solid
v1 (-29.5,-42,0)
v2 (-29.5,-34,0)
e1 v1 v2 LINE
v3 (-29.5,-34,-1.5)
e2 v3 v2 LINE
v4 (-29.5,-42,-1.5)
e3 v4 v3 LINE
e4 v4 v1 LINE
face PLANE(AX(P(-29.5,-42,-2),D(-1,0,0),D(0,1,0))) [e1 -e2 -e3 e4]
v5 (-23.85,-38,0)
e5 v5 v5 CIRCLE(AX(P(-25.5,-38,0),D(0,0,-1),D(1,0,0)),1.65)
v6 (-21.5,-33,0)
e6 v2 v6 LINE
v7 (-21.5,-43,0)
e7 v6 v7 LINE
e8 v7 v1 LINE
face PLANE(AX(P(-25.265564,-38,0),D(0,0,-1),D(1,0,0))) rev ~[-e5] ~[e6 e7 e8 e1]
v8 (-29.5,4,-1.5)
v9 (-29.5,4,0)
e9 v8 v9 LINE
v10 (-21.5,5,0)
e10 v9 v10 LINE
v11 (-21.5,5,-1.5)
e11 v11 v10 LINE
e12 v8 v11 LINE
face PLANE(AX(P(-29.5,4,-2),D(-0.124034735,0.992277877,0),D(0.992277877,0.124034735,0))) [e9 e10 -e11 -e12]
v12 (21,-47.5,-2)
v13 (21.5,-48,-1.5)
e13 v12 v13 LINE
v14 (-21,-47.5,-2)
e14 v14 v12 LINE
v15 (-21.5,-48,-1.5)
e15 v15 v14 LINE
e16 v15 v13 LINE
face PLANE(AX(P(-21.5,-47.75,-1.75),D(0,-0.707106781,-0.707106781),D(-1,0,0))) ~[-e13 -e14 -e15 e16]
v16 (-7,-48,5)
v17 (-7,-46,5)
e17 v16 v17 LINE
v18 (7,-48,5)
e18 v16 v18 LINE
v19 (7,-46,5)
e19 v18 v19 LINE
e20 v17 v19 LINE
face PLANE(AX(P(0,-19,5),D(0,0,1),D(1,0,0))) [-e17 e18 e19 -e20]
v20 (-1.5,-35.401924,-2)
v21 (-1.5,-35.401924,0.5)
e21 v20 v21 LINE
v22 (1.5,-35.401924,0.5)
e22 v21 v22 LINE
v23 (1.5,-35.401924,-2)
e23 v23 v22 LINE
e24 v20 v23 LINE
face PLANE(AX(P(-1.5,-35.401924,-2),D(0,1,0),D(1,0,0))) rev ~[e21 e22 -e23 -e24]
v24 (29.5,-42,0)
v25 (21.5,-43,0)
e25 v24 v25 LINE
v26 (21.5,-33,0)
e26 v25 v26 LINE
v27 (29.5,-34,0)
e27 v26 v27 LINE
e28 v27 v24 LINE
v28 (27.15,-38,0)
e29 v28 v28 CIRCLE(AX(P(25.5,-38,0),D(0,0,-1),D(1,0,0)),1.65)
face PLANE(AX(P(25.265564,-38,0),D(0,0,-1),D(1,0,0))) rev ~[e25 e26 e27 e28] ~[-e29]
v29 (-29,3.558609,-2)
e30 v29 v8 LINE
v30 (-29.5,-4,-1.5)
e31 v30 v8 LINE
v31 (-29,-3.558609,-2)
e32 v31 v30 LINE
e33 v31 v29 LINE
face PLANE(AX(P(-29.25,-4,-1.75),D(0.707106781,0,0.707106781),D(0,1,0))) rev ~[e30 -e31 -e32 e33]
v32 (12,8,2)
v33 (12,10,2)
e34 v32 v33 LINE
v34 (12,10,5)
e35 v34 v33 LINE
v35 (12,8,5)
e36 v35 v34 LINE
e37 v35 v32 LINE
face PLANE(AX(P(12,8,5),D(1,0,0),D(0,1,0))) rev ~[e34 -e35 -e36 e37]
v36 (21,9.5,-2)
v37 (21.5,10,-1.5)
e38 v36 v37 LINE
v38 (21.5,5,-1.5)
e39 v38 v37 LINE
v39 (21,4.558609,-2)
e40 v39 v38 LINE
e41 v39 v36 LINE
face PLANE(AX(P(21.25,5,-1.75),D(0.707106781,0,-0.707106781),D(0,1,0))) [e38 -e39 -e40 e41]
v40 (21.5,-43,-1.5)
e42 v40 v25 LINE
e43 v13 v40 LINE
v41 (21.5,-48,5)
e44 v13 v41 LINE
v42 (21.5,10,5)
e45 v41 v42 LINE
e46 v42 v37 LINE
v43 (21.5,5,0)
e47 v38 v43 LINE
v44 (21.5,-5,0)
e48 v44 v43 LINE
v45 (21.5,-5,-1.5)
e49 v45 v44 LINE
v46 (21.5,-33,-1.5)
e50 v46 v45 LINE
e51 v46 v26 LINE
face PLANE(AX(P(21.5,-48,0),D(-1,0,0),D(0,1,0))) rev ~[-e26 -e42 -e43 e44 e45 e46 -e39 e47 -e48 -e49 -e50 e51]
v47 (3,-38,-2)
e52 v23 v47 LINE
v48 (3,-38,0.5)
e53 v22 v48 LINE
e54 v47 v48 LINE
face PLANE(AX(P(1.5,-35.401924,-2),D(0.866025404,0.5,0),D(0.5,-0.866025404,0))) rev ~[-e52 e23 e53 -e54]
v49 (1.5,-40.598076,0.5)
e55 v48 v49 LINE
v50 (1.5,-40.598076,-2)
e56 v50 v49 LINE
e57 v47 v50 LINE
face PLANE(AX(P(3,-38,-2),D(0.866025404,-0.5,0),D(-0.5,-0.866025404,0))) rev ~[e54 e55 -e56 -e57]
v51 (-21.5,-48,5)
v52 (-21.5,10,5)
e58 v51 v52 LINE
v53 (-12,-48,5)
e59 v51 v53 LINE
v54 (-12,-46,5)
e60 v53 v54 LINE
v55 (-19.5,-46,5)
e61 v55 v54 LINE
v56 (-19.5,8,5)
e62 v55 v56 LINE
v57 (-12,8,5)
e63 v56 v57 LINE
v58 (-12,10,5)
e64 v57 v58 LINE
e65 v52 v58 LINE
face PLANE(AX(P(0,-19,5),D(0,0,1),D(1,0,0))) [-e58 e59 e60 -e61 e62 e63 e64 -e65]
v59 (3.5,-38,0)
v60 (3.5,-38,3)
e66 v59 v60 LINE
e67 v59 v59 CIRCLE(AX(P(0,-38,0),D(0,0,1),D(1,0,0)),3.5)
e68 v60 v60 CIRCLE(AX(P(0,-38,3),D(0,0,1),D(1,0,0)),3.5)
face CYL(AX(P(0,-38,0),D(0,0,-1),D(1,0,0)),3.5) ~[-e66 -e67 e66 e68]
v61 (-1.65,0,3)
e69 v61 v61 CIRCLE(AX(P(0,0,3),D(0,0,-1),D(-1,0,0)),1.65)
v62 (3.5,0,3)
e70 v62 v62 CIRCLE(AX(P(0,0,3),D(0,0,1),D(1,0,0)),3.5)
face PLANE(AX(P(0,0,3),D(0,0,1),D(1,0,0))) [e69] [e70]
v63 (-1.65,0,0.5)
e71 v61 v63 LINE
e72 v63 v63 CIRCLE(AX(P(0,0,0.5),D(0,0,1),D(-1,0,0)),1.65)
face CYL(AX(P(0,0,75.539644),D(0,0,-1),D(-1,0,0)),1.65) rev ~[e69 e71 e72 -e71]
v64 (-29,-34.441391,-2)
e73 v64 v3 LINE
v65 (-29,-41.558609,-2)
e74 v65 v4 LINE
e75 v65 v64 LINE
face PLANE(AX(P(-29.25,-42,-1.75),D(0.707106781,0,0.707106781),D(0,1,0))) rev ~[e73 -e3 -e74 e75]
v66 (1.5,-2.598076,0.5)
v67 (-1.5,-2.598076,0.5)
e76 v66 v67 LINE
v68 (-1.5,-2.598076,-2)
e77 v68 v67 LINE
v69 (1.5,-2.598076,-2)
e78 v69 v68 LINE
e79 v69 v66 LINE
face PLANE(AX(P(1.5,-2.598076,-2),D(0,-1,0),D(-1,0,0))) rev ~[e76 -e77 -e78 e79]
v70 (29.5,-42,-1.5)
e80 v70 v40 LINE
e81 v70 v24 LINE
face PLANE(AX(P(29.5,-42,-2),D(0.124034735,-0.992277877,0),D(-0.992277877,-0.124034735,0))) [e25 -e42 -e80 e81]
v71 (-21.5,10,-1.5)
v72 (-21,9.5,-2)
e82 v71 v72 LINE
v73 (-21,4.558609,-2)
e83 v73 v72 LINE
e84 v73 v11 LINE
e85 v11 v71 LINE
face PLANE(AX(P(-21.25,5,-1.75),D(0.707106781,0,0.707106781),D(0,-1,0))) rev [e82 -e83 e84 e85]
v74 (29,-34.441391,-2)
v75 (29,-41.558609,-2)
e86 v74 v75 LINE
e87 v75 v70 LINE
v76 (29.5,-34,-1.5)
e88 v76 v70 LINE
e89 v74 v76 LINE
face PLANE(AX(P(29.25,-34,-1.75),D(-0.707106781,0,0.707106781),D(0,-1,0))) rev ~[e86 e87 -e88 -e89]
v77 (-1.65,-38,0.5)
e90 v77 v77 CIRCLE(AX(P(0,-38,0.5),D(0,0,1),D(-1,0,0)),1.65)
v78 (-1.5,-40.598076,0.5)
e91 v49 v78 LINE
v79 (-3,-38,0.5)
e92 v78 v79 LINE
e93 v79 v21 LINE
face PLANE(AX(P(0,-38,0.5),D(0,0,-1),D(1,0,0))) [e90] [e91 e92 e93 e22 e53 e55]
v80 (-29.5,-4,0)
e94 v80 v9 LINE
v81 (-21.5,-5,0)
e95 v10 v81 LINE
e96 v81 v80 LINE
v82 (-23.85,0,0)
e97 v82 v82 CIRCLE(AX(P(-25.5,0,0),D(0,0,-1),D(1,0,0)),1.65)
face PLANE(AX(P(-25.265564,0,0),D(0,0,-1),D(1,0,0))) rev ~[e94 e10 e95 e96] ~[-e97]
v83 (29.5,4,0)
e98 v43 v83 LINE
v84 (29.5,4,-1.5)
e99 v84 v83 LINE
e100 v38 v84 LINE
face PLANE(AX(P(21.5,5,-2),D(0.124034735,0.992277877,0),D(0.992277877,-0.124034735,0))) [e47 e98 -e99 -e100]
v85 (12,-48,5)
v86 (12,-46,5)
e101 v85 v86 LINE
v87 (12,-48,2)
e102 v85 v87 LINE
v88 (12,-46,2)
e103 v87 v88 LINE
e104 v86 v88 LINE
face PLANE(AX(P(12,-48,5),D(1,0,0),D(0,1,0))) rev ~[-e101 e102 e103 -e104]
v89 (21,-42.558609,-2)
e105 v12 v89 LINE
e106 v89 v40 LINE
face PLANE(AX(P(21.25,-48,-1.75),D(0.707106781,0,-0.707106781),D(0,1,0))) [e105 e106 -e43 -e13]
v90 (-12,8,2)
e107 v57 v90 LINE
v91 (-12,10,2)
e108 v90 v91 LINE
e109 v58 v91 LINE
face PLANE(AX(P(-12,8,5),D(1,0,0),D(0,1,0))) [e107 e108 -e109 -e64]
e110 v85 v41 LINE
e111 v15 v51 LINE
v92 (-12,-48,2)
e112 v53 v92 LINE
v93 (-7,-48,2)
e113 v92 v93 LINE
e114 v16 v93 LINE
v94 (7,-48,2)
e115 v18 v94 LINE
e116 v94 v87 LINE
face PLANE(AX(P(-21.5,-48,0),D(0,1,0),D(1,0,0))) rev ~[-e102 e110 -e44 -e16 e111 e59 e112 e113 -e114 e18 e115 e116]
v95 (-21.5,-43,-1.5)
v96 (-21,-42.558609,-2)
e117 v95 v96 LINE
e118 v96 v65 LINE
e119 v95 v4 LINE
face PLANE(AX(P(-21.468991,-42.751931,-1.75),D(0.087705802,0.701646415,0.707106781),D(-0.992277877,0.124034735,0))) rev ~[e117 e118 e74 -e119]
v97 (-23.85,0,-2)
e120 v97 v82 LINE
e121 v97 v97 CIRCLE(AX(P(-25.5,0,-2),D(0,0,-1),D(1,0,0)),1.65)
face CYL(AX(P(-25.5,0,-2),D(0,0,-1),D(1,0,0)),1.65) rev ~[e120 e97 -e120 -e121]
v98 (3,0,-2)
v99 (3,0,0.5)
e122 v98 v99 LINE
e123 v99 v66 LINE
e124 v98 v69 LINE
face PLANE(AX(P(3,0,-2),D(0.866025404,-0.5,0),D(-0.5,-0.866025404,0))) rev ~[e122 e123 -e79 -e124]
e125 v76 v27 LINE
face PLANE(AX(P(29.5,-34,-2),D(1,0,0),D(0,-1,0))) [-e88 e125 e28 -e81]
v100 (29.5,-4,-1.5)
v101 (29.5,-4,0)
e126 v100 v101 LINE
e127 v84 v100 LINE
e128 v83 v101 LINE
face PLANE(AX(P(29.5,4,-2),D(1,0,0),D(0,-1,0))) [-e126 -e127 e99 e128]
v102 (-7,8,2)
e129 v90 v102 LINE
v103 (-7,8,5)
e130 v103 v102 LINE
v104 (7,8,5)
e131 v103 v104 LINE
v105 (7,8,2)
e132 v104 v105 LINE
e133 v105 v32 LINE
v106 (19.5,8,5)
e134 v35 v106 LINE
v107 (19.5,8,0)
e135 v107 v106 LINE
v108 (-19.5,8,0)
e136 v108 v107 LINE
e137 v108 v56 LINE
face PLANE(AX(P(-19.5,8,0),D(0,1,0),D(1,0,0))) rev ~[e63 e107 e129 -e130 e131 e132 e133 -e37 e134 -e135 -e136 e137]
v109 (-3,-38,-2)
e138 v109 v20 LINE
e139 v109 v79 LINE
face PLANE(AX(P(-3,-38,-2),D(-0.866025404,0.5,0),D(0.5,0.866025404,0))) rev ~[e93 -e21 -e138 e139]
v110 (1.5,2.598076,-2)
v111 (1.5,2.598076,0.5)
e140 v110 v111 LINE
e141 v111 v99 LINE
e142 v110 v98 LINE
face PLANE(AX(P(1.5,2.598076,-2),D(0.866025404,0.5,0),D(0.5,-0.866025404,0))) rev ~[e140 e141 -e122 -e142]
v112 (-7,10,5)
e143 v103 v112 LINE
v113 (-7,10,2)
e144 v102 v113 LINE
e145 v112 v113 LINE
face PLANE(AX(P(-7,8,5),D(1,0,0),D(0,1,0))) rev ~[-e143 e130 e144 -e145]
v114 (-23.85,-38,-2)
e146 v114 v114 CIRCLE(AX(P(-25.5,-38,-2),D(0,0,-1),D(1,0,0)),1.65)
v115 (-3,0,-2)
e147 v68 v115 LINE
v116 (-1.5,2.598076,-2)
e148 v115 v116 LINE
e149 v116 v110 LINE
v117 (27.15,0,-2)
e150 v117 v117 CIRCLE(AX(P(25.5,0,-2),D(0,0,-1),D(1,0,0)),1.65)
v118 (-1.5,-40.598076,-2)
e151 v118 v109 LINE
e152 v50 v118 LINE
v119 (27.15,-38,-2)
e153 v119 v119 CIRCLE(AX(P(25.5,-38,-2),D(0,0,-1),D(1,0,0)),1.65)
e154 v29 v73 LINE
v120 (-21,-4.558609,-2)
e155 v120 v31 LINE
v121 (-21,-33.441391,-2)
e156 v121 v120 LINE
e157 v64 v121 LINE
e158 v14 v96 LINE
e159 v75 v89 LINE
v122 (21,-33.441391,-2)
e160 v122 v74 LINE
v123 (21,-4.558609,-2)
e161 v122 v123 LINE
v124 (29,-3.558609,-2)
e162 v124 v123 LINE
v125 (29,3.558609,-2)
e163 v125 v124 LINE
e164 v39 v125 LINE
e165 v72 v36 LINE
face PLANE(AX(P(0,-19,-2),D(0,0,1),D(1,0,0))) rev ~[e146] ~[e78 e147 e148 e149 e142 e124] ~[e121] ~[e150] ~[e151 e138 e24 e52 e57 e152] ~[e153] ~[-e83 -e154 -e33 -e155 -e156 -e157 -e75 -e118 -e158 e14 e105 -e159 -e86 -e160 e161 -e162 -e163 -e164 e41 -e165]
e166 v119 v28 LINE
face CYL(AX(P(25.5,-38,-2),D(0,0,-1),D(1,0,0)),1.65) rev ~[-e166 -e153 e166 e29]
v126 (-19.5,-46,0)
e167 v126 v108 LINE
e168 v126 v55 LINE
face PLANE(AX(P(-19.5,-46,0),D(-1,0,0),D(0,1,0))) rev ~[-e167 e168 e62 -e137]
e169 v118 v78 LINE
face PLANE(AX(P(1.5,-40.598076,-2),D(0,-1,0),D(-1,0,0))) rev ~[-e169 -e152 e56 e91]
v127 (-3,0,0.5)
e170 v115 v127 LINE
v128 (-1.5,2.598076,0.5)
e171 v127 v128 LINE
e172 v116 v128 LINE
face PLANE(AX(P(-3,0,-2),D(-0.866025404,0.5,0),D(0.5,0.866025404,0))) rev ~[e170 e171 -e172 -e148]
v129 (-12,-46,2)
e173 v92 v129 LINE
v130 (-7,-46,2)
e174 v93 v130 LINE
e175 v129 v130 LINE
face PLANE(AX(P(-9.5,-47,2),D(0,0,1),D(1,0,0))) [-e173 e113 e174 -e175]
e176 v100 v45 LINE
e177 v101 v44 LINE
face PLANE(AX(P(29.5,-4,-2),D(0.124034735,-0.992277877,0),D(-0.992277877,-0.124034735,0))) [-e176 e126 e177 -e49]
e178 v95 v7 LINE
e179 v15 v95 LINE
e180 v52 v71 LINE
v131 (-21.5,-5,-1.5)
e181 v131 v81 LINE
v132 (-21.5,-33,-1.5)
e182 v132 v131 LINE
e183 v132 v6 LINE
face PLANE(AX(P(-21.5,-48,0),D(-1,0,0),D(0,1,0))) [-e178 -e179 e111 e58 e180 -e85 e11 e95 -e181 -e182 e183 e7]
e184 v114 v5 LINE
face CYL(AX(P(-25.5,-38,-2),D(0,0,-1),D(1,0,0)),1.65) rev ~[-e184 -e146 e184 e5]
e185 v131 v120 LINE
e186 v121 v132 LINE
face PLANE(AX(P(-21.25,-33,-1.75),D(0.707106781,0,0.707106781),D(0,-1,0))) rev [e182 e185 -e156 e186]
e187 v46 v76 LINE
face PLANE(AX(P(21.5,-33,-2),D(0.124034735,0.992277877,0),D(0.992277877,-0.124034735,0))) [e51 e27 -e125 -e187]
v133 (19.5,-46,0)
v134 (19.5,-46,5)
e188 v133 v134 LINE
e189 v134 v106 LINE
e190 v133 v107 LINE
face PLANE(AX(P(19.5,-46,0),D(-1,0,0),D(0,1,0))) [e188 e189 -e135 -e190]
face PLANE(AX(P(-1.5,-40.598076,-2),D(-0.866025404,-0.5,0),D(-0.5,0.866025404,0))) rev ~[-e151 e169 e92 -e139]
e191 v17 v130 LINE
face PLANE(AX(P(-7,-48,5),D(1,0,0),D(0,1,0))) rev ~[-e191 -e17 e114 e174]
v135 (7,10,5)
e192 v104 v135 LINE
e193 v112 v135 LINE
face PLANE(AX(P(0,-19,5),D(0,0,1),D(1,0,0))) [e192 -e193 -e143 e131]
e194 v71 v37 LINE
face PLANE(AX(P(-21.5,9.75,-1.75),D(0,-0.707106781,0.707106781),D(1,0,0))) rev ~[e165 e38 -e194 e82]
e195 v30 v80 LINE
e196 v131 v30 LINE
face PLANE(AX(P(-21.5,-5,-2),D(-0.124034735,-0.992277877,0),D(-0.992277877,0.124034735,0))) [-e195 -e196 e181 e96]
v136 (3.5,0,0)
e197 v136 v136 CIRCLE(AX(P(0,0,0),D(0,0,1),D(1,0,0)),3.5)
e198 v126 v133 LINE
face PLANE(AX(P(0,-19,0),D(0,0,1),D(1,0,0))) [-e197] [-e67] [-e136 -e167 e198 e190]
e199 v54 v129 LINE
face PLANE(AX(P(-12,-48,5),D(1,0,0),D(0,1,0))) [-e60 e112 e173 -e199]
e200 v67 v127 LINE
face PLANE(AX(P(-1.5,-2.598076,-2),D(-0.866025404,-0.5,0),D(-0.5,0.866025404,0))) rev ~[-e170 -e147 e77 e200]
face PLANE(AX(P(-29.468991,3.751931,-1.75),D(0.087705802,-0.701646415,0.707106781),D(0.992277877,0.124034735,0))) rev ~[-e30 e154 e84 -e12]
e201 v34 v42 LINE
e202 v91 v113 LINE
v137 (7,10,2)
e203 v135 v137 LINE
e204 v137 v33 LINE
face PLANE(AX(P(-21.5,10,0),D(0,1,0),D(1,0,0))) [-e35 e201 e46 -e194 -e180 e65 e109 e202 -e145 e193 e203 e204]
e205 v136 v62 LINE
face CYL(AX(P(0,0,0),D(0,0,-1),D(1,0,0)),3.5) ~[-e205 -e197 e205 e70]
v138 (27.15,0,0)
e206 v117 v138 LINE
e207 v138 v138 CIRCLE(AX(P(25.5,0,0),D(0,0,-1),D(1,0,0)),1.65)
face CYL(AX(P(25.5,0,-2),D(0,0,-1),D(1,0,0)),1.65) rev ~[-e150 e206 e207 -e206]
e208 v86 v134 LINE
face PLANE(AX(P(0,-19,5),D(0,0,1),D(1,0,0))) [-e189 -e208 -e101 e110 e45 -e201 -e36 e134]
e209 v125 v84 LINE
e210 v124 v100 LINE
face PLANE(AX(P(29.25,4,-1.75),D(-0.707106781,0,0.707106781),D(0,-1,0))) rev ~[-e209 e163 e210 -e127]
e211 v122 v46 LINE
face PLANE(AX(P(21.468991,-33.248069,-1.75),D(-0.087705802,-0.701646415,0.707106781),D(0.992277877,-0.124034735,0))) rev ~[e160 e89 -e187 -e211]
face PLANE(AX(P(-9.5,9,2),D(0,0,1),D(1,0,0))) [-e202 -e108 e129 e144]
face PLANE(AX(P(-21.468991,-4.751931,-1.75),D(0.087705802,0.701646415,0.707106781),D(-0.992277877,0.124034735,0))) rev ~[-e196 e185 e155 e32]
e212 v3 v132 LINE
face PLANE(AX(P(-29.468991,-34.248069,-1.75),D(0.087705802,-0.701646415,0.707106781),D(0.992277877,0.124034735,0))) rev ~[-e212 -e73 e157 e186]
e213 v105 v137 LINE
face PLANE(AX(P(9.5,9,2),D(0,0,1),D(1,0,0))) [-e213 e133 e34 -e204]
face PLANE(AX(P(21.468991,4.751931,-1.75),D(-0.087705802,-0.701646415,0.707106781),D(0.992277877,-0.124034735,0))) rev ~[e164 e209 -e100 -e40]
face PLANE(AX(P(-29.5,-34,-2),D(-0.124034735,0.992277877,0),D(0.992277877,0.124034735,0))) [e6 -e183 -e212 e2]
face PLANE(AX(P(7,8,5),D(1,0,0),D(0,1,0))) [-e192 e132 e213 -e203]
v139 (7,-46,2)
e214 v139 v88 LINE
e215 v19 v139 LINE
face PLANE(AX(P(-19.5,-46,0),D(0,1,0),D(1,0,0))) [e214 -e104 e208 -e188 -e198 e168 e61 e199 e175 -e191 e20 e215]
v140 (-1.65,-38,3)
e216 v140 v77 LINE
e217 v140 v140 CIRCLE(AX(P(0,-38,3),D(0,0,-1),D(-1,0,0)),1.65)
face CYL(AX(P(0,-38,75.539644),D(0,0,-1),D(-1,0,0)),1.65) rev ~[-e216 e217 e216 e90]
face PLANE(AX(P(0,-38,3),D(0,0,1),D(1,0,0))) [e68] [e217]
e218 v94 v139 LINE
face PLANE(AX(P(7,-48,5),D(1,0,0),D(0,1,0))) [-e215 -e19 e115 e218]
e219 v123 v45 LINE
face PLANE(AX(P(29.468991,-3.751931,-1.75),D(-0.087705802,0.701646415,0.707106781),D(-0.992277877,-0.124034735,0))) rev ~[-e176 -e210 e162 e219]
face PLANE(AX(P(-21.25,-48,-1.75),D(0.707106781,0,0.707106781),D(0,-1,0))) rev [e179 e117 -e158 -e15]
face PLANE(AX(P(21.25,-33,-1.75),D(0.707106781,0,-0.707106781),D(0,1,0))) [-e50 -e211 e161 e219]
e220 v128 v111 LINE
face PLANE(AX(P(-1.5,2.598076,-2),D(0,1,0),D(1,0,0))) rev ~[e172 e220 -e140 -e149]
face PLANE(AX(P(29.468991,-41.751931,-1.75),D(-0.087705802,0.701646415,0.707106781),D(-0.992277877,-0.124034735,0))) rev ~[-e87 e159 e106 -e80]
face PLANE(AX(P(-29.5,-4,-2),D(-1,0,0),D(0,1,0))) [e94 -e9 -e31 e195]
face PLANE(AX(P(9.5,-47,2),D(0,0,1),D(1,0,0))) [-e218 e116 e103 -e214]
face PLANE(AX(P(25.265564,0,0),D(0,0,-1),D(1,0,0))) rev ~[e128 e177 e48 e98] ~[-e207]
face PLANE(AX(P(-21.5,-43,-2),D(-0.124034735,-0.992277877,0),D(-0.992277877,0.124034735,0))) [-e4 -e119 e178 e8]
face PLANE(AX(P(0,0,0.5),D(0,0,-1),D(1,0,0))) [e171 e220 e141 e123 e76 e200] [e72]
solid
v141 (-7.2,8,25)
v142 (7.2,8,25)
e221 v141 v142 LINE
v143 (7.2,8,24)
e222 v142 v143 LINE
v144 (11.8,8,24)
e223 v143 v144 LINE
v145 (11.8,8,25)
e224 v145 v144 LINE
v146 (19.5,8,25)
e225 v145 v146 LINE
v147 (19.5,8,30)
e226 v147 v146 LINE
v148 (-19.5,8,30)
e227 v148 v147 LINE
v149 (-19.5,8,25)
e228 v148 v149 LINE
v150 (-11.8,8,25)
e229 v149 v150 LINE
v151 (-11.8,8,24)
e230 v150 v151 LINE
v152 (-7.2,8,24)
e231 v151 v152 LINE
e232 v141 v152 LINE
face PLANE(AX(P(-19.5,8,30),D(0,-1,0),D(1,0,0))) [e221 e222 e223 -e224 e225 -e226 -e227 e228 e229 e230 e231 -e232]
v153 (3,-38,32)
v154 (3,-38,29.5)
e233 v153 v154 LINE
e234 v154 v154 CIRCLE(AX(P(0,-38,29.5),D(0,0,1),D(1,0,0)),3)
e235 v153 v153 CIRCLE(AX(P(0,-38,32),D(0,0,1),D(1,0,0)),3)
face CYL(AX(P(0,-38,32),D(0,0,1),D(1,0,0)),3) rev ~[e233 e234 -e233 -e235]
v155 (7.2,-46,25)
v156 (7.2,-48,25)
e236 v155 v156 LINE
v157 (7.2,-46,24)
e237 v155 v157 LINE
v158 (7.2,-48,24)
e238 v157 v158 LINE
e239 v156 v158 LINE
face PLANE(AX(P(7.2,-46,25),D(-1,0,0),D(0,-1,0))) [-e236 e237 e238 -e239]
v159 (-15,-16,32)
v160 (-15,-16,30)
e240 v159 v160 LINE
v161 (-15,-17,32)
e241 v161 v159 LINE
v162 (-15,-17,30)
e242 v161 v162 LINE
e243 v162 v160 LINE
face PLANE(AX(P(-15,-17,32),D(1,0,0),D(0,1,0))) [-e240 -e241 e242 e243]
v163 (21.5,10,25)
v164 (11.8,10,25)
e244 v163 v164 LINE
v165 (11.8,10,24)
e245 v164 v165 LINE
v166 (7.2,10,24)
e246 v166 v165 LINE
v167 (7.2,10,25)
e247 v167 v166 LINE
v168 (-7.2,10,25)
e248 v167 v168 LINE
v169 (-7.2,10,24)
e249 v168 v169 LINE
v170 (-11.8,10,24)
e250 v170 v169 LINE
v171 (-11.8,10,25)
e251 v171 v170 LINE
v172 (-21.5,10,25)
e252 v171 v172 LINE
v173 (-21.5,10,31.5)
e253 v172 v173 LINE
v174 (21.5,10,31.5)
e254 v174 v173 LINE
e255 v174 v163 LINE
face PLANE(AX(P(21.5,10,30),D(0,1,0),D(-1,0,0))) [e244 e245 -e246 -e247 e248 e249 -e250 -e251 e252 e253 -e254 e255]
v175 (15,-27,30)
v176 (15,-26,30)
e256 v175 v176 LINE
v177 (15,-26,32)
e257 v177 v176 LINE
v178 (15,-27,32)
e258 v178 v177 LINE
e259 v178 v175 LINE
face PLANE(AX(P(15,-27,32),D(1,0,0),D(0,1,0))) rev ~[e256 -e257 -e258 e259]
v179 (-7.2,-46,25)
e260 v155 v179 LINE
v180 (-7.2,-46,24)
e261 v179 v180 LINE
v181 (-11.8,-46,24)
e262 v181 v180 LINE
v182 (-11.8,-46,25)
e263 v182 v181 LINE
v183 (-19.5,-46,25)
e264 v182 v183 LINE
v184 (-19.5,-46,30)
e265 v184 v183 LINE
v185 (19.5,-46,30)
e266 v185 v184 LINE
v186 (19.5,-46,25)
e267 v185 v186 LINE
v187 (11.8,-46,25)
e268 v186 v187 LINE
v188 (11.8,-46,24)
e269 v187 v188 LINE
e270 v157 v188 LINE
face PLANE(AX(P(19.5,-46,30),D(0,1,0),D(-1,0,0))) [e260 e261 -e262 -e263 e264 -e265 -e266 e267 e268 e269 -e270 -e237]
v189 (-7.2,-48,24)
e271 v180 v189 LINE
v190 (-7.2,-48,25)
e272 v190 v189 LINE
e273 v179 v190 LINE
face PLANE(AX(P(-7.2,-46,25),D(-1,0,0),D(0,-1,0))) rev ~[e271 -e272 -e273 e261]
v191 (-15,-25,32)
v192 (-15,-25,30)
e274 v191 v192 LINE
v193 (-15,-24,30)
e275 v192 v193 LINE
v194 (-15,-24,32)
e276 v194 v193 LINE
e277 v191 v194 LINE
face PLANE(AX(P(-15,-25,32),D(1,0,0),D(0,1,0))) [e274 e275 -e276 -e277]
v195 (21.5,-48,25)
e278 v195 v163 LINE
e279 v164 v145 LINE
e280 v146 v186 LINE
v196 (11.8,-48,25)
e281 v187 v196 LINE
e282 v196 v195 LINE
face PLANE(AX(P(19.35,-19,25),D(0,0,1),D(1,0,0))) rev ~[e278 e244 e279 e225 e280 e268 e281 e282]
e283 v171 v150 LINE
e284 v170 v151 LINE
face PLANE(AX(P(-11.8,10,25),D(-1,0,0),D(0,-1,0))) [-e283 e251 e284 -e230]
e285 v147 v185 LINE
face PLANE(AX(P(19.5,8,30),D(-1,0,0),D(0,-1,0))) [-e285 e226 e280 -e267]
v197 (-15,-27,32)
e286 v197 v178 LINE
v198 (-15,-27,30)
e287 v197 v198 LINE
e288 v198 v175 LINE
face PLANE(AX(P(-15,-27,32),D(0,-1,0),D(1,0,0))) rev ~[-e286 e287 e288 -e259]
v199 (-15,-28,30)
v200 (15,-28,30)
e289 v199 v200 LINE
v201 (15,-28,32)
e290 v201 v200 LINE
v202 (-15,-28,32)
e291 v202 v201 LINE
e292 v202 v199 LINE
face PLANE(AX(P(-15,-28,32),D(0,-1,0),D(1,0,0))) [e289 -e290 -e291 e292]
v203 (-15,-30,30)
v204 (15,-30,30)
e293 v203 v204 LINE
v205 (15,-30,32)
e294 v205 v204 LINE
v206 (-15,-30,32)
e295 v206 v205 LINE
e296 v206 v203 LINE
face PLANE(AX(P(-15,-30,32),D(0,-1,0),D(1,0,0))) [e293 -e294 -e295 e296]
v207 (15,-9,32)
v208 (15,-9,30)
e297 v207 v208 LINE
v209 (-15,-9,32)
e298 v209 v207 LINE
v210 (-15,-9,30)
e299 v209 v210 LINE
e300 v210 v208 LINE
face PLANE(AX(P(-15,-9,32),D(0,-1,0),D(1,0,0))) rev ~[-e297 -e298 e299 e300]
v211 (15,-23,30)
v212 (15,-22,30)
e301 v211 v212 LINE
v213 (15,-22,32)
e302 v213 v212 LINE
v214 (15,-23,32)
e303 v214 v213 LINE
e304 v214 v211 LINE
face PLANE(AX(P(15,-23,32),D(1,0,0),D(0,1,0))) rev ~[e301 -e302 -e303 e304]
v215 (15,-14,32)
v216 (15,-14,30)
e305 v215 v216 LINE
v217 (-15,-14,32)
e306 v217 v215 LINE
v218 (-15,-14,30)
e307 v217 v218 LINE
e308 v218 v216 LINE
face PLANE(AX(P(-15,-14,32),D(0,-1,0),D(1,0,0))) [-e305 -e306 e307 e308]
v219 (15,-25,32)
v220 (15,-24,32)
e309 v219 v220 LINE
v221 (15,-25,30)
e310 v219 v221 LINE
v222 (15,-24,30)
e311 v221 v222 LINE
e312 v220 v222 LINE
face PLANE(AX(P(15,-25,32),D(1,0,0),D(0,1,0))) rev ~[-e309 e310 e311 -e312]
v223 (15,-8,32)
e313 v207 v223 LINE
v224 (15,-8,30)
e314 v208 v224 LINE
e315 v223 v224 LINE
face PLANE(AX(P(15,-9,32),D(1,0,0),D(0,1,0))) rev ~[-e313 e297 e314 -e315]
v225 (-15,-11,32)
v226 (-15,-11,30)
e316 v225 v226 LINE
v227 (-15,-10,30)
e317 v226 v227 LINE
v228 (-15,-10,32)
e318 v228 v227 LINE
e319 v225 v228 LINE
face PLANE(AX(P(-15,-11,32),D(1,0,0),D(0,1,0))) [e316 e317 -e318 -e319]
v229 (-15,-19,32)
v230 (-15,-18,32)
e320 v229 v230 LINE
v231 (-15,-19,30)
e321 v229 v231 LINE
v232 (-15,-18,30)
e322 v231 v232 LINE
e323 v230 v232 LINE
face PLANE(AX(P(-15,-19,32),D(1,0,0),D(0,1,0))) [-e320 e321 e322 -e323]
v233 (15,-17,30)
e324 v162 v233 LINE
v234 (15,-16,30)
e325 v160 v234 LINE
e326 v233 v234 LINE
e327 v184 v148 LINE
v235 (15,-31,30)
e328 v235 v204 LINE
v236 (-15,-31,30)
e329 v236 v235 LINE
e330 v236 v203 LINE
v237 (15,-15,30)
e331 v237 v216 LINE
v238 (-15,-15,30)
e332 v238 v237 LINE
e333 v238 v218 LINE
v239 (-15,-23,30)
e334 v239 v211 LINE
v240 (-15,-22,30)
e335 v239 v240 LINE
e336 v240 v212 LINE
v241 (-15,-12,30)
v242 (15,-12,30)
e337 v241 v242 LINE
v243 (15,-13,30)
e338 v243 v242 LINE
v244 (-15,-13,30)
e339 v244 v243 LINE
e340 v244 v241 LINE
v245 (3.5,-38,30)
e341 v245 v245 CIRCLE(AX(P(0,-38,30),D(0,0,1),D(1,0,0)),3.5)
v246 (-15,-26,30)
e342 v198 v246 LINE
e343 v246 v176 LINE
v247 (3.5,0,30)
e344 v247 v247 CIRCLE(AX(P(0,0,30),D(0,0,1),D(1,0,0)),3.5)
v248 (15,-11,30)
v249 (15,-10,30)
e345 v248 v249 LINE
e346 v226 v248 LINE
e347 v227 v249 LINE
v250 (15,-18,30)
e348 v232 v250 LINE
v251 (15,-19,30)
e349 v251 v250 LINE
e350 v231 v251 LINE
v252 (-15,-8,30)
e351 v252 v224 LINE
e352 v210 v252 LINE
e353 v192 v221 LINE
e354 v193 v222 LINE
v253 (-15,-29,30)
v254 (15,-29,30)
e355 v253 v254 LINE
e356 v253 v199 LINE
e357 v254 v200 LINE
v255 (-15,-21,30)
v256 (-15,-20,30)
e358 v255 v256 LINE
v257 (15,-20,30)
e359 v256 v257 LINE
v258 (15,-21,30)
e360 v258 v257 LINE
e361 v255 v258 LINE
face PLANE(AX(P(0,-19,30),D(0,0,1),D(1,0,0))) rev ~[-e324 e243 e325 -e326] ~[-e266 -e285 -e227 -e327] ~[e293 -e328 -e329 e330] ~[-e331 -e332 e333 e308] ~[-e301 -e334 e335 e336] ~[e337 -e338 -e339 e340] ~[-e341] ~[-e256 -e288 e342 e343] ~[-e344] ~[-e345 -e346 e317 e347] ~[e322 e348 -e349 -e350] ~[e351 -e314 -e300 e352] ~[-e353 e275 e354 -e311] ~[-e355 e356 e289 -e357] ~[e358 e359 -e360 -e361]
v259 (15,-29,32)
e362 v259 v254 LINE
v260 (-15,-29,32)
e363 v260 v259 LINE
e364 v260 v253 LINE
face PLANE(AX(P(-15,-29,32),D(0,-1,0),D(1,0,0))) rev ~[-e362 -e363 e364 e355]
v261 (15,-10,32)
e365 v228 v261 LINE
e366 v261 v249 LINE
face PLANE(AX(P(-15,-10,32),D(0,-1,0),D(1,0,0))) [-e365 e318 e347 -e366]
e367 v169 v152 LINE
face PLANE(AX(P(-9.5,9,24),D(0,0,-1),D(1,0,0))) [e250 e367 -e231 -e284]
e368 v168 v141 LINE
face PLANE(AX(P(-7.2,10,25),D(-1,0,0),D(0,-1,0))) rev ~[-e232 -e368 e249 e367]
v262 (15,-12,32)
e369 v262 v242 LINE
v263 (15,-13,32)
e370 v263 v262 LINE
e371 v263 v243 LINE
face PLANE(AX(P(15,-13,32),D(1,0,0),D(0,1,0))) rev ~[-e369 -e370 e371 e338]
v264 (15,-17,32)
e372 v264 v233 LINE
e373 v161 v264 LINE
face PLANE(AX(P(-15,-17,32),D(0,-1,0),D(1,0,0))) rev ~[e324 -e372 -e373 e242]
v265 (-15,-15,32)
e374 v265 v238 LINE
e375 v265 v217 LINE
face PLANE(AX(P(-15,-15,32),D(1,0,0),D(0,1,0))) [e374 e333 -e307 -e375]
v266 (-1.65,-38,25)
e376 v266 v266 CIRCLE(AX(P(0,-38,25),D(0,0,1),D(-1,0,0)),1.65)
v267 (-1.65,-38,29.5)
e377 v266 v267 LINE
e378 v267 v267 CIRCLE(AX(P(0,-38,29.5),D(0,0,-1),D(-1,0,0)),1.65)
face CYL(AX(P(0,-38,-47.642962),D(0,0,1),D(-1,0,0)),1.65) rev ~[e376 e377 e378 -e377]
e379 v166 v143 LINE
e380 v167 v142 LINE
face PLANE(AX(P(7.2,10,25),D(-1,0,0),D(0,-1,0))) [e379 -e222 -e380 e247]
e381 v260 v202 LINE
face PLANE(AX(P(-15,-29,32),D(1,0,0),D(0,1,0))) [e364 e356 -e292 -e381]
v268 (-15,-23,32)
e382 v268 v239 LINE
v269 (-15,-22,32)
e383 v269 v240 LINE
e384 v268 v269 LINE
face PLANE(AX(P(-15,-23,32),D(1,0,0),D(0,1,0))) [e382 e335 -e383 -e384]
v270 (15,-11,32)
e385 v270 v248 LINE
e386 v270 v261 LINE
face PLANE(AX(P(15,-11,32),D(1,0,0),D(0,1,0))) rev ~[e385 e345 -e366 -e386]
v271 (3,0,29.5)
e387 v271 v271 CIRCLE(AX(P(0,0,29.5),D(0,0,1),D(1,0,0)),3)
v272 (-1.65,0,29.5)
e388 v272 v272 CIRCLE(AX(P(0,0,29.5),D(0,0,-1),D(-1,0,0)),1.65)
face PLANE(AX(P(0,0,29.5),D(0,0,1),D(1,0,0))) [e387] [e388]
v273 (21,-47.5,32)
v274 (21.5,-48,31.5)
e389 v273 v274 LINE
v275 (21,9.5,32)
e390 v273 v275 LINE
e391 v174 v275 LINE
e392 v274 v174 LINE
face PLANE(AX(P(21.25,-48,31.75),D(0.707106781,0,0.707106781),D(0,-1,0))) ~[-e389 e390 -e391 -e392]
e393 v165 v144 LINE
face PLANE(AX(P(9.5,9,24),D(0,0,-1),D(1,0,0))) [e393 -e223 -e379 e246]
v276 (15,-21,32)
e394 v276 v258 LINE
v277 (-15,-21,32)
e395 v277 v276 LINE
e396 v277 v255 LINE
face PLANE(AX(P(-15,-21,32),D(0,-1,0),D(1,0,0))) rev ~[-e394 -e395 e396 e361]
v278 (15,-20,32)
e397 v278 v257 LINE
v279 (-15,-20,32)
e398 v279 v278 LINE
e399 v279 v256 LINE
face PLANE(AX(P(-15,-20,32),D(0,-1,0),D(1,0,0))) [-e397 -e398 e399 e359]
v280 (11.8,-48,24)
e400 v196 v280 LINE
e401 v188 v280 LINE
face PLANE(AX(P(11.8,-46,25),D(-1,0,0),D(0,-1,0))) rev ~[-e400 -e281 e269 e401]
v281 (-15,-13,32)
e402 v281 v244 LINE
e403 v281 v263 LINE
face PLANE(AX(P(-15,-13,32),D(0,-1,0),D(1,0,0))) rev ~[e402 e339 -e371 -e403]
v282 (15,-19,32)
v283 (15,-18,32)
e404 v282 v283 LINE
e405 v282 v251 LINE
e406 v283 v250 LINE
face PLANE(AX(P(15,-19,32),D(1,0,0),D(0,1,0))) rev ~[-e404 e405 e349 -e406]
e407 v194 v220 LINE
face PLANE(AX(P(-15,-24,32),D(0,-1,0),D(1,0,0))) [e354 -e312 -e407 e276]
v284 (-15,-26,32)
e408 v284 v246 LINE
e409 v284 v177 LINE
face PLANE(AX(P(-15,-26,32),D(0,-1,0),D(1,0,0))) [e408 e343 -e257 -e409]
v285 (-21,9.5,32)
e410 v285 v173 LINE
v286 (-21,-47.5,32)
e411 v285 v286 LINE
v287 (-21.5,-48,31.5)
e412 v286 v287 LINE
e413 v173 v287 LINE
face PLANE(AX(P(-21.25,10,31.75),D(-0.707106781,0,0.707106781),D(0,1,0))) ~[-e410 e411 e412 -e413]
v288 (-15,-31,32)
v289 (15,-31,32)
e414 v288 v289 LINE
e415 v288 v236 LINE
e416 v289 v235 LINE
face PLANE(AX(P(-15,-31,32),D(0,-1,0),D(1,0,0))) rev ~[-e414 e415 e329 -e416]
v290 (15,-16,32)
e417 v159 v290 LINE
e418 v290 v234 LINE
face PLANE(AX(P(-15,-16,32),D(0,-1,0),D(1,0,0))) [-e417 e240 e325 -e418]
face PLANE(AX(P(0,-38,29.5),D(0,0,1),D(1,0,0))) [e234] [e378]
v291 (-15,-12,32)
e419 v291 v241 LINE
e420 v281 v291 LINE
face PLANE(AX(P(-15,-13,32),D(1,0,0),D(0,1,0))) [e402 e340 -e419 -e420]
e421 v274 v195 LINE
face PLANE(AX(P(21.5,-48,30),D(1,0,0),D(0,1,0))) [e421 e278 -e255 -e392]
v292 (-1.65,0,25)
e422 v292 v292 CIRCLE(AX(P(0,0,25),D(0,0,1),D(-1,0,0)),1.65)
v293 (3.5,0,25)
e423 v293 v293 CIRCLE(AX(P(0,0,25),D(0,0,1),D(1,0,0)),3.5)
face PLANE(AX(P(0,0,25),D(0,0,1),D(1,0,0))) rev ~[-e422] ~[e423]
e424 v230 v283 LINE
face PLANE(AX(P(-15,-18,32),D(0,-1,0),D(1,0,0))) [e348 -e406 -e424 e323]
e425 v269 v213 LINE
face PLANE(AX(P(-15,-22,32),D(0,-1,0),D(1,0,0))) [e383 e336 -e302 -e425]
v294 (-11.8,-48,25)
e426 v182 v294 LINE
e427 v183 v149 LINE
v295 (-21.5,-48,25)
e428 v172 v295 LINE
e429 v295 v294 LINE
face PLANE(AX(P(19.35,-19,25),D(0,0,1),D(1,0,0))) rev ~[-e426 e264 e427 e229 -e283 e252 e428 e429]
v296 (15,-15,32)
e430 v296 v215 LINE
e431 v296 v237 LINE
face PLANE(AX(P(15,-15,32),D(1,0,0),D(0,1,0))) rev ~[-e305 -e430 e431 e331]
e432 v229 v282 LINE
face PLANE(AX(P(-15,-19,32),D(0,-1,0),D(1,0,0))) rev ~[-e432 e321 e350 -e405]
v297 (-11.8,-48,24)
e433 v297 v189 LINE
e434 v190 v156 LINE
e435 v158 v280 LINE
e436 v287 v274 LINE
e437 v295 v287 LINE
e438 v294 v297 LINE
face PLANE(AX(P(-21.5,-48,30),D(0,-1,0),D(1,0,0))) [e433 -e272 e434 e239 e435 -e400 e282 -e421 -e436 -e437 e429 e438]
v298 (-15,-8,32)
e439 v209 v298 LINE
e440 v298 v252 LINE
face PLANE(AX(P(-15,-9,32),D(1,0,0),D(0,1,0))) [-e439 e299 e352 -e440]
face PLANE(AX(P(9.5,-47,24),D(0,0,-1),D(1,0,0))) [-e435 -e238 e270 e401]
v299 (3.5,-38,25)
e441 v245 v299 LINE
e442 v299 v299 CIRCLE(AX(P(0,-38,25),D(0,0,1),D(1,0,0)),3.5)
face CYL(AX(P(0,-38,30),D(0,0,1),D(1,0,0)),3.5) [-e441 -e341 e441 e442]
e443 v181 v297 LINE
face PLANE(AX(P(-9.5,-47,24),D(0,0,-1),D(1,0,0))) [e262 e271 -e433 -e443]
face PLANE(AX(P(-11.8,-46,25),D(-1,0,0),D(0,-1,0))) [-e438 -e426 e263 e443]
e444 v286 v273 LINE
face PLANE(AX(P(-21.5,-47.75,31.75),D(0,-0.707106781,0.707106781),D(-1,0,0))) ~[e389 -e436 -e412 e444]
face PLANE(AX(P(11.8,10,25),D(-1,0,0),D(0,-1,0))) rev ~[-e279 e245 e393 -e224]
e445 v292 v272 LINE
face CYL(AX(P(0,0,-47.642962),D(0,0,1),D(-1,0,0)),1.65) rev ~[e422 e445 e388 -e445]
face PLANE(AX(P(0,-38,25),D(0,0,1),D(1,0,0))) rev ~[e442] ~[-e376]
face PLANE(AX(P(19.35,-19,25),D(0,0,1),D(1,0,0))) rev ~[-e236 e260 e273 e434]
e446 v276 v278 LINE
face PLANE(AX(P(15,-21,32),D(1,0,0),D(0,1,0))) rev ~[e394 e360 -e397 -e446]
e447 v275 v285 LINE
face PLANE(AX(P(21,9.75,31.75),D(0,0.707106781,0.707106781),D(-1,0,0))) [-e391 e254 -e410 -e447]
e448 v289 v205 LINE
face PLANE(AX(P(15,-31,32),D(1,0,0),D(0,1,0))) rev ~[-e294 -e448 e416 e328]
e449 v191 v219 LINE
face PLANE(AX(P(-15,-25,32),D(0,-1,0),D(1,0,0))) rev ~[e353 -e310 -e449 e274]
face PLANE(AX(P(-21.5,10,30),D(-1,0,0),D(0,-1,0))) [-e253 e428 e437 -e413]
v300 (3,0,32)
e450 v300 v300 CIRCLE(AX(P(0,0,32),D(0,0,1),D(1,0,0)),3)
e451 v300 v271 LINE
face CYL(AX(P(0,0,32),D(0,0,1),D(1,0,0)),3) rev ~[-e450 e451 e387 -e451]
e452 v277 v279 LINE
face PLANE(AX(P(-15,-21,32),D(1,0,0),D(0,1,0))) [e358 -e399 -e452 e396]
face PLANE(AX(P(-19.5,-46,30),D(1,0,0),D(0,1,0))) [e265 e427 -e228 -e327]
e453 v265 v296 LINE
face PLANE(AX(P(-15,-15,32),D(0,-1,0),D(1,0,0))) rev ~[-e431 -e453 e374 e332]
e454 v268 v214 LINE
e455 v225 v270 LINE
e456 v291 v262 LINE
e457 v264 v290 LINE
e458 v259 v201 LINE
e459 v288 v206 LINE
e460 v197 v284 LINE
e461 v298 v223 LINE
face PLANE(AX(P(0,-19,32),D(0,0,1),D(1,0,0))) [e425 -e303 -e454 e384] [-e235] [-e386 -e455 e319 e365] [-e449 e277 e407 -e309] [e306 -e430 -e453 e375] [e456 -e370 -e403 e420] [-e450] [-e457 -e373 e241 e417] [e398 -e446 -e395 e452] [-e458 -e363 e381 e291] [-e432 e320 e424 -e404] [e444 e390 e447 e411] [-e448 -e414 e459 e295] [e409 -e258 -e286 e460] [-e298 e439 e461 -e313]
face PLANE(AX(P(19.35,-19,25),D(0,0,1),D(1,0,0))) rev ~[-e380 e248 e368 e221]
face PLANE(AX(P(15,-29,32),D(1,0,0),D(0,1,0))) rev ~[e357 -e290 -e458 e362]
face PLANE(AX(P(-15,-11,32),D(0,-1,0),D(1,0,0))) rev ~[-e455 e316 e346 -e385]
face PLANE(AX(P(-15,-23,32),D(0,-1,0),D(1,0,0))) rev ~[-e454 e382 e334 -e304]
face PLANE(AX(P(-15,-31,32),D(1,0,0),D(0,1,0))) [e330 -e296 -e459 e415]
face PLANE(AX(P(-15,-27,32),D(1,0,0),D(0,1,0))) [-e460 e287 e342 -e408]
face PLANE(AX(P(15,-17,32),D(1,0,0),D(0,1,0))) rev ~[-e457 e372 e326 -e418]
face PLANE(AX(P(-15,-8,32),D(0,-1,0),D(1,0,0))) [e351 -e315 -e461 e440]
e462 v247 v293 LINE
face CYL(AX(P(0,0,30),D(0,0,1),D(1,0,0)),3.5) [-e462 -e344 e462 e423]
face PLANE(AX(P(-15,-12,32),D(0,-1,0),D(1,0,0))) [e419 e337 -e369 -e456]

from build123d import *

# Parameters (mm, degrees)
F0_W       = 43
F0_H       = 58
F0_W_2     = 39
F0_H_2     = 54
F0_W_3     = 35
F0_H_3     = 50
F0_R       = 3.5
F1_DEPTH   = 2
F2_DEPTH   = 5
F3_DEPTH   = 3
F5_D       = 3.3
F6_W       = 5
F6_H       = 2
F7_DEPTH   = 3
F9_R       = 3.5
F9_W       = 14
F9_H       = 2
F9_W_2     = 5
F10_DEPTH  = 2
F11_DEPTH  = 5
F12_W      = 4.6
F12_H      = 2
F13_DEPTH  = 1
F14_D      = 3.3
F15_R      = 3
F15_R_2    = 1.65
F16_DEPTH  = 2.5
F17_R      = 1.65
F18_DEPTH  = 2.5
F19_W      = 30
F19_H      = 1
F20_DEPTH  = 2
F21_R      = 1.65
F22_DEPTH  = 2
F23_SIZE   = 0.5
F23_2_SIZE = 0.5
F24_SIZE   = 0.5


with BuildPart() as f1:
    # F0 (on Top) → F1 (new body)
    with BuildSketch(Plane.XY):
        with Locations((0, -19)):
            Rectangle(F0_W, F0_H)
        with Locations((0, -19)):
            Rectangle(F0_W_2, F0_H_2, mode=Mode.SUBTRACT)
        with Locations((0, -19)):
            Rectangle(F0_W_2, F0_H_2)
        with Locations((0, -19)):
            Rectangle(F0_W_3, F0_H_3, mode=Mode.SUBTRACT)
        with Locations((0, -19)):
            Rectangle(F0_W_3, F0_H_3)
        with Locations((0, -38)):
            Circle(F0_R, mode=Mode.SUBTRACT)
        Circle(F0_R, mode=Mode.SUBTRACT)
        Circle(F0_R)
        with Locations((0, -38)):
            Circle(F0_R)
    extrude(amount=-F1_DEPTH)

    # F0 (on Top) → F2 (join)
    with BuildSketch(Plane.XY):
        with Locations((0, -19)):
            Rectangle(F0_W, F0_H)
        with Locations((0, -19)):
            Rectangle(F0_W_2, F0_H_2, mode=Mode.SUBTRACT)
    extrude(amount=F2_DEPTH)

    # F0 (on Top) → F3 (join)
    with BuildSketch(Plane.XY):
        Circle(F0_R)
        with Locations((0, -38)):
            Circle(F0_R)
    extrude(amount=F3_DEPTH)

    # F5 (through all)
    with Locations(Plane.XY.offset(3)):
        with Locations((0, -38), (0, 0)):
            Hole(F5_D / 2)

    # F6 (on face) → F7 (cut)
    with BuildSketch(Plane.XY.offset(5)):
        with Locations((9.5, -47)):
            Rectangle(F6_W, F6_H)
        with Locations((-9.5, -47)):
            Rectangle(F6_W, F6_H)
        with Locations((-9.5, 9)):
            Rectangle(F6_W, F6_H)
        with Locations((9.5, 9)):
            Rectangle(F6_W, F6_H)
    extrude(amount=-F7_DEPTH, mode=Mode.SUBTRACT)

    # F17 (on face) → F18 (cut)
    with BuildSketch(Plane(origin=(0, 0, -2), x_dir=(1, 0, 0), z_dir=(0, 0, -1))):
        Polygon((-1.5, 35.4019237886), (1.5, 35.4019237886), (3, 38), (1.5, 40.5980762114), (-1.5, 40.5980762114), (-3, 38), align=None)
        with Locations((0, 38)):
            Circle(F17_R, mode=Mode.SUBTRACT)
        Polygon((-1.5, -2.5980762114), (1.5, -2.5980762114), (3, 0), (1.5, 2.5980762114), (-1.5, 2.5980762114), (-3, 0), align=None)
        Circle(F17_R, mode=Mode.SUBTRACT)
    extrude(amount=-F18_DEPTH, mode=Mode.SUBTRACT)

    # F21 (on face) → F22 (join)
    with BuildSketch(Plane(origin=(0, 0, -2), x_dir=(1, 0, 0), z_dir=(0, 0, -1))):
        Polygon((-29.5, 34), (-21.5, 33), (-21.5, 43), (-29.5, 42), align=None)
        with Locations((-25.5, 38)):
            Circle(F21_R, mode=Mode.SUBTRACT)
        Polygon((-21.5, -5), (-21.5, 5), (-29.5, 4), (-29.5, -4), align=None)
        with Locations((-25.5, 0)):
            Circle(F21_R, mode=Mode.SUBTRACT)
        Polygon((29.5, 42), (21.5, 43), (21.5, 33), (29.5, 34), align=None)
        with Locations((25.5, 38)):
            Circle(F21_R, mode=Mode.SUBTRACT)
        Polygon((21.5, 5), (21.5, -5), (29.5, -4), (29.5, 4), align=None)
        with Locations((25.5, 0)):
            Circle(F21_R, mode=Mode.SUBTRACT)
    extrude(amount=-F22_DEPTH)

    # F23
    f23_edges = [f1.edges().sort_by_distance(p)[0] for p in [
        (21.5, -19, -2),
        (25.5, -33.5, -2),
        (29.5, -38, -2),
        (25.5, -42.5, -2),
        (21.5, -45.5, -2),
        (0, -48, -2),
        (-21.5, -45.5, -2),
        (-25.5, -42.5, -2),
        (-29.5, -38, -2),
        (-25.5, -33.5, -2),
        (-21.5, -19, -2),
        (-25.5, -4.5, -2),
        (-29.5, 0, -2),
        (-25.5, 4.5, -2),
        (-21.5, 7.5, -2),
        (0, 10, -2),
        (21.5, 7.5, -2),
        (25.5, 4.5, -2),
        (29.5, 0, -2),
        (25.5, -4.5, -2),
    ]]
    chamfer(f23_edges, length=F23_SIZE)


with BuildPart() as f10:
    # F9 (on offset) → F10 (new body)
    with BuildSketch(Plane.XY.offset(30)):
        Polygon((-7, 8), (-12, 8), (-19.5, 8), (-19.5, -46), (-12, -46), (-7, -46), (7, -46), (12, -46), (19.5, -46), (19.5, 8), (12, 8), (7, 8), align=None)
        with Locations((0, -38)):
            Circle(F9_R, mode=Mode.SUBTRACT)
        Circle(F9_R, mode=Mode.SUBTRACT)
        with Locations((0, -38)):
            Circle(F9_R)
        Circle(F9_R)
        with Locations((0, -47)):
            Rectangle(F9_W, F9_H)
        with Locations((-9.5, -47)):
            Rectangle(F9_W_2, F9_H)
        Polygon((-12, 10), (-21.5, 10), (-21.5, -48), (-12, -48), (-12, -46), (-19.5, -46), (-19.5, 8), (-12, 8), align=None)
        with Locations((9.5, -47)):
            Rectangle(F9_W_2, F9_H)
        Polygon((21.5, 10), (12, 10), (12, 8), (19.5, 8), (19.5, -46), (12, -46), (12, -48), (21.5, -48), align=None)
        with Locations((9.5, 9)):
            Rectangle(F9_W_2, F9_H)
        with Locations((0, 9)):
            Rectangle(F9_W, F9_H)
        with Locations((-9.5, 9)):
            Rectangle(F9_W_2, F9_H)
    extrude(amount=F10_DEPTH)

    # F9 (on offset) → F11 (join)
    with BuildSketch(Plane.XY.offset(30)):
        Polygon((21.5, 10), (12, 10), (12, 8), (19.5, 8), (19.5, -46), (12, -46), (12, -48), (21.5, -48), align=None)
        with Locations((9.5, -47)):
            Rectangle(F9_W_2, F9_H)
        with Locations((0, -47)):
            Rectangle(F9_W, F9_H)
        with Locations((-9.5, -47)):
            Rectangle(F9_W_2, F9_H)
        Polygon((-12, 10), (-21.5, 10), (-21.5, -48), (-12, -48), (-12, -46), (-19.5, -46), (-19.5, 8), (-12, 8), align=None)
        with Locations((-9.5, 9)):
            Rectangle(F9_W_2, F9_H)
        with Locations((0, 9)):
            Rectangle(F9_W, F9_H)
        with Locations((9.5, 9)):
            Rectangle(F9_W_2, F9_H)
        Circle(F9_R)
        with Locations((0, -38)):
            Circle(F9_R)
    extrude(amount=-F11_DEPTH)

    # F12 (on face) → F13 (join)
    with BuildSketch(Plane(origin=(0, 0, 25), x_dir=(1, 0, 0), z_dir=(0, 0, -1))):
        with Locations((-9.5, 47)):
            Rectangle(F12_W, F12_H)
        with Locations((9.5, 47)):
            Rectangle(F12_W, F12_H)
        with Locations((-9.5, -9)):
            Rectangle(F12_W, F12_H)
        with Locations((9.5, -9)):
            Rectangle(F12_W, F12_H)
    extrude(amount=F13_DEPTH)

    # F14 (through all)
    with Locations(Plane(origin=(0, 0, 25), x_dir=(1, 0, 0), z_dir=(0, 0, -1))):
        with Locations((0, 38), (0, 0)):
            Hole(F14_D / 2)

    # F15 (on face) → F16 (cut)
    with BuildSketch(Plane.XY.offset(32)):
        with Locations((0, -38)):
            Circle(F15_R)
        with Locations((0, -38)):
            Circle(F15_R_2, mode=Mode.SUBTRACT)
        Circle(F15_R)
        Circle(F15_R_2, mode=Mode.SUBTRACT)
    extrude(amount=-F16_DEPTH, mode=Mode.SUBTRACT)

    # F19 (on face) → F20 (cut, through all)
    with BuildSketch(Plane.XY.offset(32)):
        with Locations((0, -8.5)):
            Rectangle(F19_W, F19_H)
        with Locations((0, -10.5)):
            Rectangle(F19_W, F19_H)
        with Locations((0, -12.5)):
            Rectangle(F19_W, F19_H)
        with Locations((0, -14.5)):
            Rectangle(F19_W, F19_H)
        with Locations((0, -16.5)):
            Rectangle(F19_W, F19_H)
        with Locations((0, -18.5)):
            Rectangle(F19_W, F19_H)
        with Locations((0, -20.5)):
            Rectangle(F19_W, F19_H)
        with Locations((0, -22.5)):
            Rectangle(F19_W, F19_H)
        with Locations((0, -24.5)):
            Rectangle(F19_W, F19_H)
        with Locations((0, -26.5)):
            Rectangle(F19_W, F19_H)
        with Locations((0, -28.5)):
            Rectangle(F19_W, F19_H)
        with Locations((0, -30.5)):
            Rectangle(F19_W, F19_H)
    extrude(amount=-F20_DEPTH, mode=Mode.SUBTRACT)

    # F23#2
    f23_2_edges = [f10.edges().sort_by_distance(p)[0] for p in [
        (21.5, -19, 32),
    ]]
    chamfer(f23_2_edges, length=F23_2_SIZE)

    # F24
    f24_edges = [f10.edges().sort_by_distance(p)[0] for p in [
        (-0.25, -48, 32),
        (-21.5, -19, 32),
        (-0.25, 10, 32),
    ]]
    chamfer(f24_edges, length=F24_SIZE)


solid = Compound([f1.part, f10.part])
